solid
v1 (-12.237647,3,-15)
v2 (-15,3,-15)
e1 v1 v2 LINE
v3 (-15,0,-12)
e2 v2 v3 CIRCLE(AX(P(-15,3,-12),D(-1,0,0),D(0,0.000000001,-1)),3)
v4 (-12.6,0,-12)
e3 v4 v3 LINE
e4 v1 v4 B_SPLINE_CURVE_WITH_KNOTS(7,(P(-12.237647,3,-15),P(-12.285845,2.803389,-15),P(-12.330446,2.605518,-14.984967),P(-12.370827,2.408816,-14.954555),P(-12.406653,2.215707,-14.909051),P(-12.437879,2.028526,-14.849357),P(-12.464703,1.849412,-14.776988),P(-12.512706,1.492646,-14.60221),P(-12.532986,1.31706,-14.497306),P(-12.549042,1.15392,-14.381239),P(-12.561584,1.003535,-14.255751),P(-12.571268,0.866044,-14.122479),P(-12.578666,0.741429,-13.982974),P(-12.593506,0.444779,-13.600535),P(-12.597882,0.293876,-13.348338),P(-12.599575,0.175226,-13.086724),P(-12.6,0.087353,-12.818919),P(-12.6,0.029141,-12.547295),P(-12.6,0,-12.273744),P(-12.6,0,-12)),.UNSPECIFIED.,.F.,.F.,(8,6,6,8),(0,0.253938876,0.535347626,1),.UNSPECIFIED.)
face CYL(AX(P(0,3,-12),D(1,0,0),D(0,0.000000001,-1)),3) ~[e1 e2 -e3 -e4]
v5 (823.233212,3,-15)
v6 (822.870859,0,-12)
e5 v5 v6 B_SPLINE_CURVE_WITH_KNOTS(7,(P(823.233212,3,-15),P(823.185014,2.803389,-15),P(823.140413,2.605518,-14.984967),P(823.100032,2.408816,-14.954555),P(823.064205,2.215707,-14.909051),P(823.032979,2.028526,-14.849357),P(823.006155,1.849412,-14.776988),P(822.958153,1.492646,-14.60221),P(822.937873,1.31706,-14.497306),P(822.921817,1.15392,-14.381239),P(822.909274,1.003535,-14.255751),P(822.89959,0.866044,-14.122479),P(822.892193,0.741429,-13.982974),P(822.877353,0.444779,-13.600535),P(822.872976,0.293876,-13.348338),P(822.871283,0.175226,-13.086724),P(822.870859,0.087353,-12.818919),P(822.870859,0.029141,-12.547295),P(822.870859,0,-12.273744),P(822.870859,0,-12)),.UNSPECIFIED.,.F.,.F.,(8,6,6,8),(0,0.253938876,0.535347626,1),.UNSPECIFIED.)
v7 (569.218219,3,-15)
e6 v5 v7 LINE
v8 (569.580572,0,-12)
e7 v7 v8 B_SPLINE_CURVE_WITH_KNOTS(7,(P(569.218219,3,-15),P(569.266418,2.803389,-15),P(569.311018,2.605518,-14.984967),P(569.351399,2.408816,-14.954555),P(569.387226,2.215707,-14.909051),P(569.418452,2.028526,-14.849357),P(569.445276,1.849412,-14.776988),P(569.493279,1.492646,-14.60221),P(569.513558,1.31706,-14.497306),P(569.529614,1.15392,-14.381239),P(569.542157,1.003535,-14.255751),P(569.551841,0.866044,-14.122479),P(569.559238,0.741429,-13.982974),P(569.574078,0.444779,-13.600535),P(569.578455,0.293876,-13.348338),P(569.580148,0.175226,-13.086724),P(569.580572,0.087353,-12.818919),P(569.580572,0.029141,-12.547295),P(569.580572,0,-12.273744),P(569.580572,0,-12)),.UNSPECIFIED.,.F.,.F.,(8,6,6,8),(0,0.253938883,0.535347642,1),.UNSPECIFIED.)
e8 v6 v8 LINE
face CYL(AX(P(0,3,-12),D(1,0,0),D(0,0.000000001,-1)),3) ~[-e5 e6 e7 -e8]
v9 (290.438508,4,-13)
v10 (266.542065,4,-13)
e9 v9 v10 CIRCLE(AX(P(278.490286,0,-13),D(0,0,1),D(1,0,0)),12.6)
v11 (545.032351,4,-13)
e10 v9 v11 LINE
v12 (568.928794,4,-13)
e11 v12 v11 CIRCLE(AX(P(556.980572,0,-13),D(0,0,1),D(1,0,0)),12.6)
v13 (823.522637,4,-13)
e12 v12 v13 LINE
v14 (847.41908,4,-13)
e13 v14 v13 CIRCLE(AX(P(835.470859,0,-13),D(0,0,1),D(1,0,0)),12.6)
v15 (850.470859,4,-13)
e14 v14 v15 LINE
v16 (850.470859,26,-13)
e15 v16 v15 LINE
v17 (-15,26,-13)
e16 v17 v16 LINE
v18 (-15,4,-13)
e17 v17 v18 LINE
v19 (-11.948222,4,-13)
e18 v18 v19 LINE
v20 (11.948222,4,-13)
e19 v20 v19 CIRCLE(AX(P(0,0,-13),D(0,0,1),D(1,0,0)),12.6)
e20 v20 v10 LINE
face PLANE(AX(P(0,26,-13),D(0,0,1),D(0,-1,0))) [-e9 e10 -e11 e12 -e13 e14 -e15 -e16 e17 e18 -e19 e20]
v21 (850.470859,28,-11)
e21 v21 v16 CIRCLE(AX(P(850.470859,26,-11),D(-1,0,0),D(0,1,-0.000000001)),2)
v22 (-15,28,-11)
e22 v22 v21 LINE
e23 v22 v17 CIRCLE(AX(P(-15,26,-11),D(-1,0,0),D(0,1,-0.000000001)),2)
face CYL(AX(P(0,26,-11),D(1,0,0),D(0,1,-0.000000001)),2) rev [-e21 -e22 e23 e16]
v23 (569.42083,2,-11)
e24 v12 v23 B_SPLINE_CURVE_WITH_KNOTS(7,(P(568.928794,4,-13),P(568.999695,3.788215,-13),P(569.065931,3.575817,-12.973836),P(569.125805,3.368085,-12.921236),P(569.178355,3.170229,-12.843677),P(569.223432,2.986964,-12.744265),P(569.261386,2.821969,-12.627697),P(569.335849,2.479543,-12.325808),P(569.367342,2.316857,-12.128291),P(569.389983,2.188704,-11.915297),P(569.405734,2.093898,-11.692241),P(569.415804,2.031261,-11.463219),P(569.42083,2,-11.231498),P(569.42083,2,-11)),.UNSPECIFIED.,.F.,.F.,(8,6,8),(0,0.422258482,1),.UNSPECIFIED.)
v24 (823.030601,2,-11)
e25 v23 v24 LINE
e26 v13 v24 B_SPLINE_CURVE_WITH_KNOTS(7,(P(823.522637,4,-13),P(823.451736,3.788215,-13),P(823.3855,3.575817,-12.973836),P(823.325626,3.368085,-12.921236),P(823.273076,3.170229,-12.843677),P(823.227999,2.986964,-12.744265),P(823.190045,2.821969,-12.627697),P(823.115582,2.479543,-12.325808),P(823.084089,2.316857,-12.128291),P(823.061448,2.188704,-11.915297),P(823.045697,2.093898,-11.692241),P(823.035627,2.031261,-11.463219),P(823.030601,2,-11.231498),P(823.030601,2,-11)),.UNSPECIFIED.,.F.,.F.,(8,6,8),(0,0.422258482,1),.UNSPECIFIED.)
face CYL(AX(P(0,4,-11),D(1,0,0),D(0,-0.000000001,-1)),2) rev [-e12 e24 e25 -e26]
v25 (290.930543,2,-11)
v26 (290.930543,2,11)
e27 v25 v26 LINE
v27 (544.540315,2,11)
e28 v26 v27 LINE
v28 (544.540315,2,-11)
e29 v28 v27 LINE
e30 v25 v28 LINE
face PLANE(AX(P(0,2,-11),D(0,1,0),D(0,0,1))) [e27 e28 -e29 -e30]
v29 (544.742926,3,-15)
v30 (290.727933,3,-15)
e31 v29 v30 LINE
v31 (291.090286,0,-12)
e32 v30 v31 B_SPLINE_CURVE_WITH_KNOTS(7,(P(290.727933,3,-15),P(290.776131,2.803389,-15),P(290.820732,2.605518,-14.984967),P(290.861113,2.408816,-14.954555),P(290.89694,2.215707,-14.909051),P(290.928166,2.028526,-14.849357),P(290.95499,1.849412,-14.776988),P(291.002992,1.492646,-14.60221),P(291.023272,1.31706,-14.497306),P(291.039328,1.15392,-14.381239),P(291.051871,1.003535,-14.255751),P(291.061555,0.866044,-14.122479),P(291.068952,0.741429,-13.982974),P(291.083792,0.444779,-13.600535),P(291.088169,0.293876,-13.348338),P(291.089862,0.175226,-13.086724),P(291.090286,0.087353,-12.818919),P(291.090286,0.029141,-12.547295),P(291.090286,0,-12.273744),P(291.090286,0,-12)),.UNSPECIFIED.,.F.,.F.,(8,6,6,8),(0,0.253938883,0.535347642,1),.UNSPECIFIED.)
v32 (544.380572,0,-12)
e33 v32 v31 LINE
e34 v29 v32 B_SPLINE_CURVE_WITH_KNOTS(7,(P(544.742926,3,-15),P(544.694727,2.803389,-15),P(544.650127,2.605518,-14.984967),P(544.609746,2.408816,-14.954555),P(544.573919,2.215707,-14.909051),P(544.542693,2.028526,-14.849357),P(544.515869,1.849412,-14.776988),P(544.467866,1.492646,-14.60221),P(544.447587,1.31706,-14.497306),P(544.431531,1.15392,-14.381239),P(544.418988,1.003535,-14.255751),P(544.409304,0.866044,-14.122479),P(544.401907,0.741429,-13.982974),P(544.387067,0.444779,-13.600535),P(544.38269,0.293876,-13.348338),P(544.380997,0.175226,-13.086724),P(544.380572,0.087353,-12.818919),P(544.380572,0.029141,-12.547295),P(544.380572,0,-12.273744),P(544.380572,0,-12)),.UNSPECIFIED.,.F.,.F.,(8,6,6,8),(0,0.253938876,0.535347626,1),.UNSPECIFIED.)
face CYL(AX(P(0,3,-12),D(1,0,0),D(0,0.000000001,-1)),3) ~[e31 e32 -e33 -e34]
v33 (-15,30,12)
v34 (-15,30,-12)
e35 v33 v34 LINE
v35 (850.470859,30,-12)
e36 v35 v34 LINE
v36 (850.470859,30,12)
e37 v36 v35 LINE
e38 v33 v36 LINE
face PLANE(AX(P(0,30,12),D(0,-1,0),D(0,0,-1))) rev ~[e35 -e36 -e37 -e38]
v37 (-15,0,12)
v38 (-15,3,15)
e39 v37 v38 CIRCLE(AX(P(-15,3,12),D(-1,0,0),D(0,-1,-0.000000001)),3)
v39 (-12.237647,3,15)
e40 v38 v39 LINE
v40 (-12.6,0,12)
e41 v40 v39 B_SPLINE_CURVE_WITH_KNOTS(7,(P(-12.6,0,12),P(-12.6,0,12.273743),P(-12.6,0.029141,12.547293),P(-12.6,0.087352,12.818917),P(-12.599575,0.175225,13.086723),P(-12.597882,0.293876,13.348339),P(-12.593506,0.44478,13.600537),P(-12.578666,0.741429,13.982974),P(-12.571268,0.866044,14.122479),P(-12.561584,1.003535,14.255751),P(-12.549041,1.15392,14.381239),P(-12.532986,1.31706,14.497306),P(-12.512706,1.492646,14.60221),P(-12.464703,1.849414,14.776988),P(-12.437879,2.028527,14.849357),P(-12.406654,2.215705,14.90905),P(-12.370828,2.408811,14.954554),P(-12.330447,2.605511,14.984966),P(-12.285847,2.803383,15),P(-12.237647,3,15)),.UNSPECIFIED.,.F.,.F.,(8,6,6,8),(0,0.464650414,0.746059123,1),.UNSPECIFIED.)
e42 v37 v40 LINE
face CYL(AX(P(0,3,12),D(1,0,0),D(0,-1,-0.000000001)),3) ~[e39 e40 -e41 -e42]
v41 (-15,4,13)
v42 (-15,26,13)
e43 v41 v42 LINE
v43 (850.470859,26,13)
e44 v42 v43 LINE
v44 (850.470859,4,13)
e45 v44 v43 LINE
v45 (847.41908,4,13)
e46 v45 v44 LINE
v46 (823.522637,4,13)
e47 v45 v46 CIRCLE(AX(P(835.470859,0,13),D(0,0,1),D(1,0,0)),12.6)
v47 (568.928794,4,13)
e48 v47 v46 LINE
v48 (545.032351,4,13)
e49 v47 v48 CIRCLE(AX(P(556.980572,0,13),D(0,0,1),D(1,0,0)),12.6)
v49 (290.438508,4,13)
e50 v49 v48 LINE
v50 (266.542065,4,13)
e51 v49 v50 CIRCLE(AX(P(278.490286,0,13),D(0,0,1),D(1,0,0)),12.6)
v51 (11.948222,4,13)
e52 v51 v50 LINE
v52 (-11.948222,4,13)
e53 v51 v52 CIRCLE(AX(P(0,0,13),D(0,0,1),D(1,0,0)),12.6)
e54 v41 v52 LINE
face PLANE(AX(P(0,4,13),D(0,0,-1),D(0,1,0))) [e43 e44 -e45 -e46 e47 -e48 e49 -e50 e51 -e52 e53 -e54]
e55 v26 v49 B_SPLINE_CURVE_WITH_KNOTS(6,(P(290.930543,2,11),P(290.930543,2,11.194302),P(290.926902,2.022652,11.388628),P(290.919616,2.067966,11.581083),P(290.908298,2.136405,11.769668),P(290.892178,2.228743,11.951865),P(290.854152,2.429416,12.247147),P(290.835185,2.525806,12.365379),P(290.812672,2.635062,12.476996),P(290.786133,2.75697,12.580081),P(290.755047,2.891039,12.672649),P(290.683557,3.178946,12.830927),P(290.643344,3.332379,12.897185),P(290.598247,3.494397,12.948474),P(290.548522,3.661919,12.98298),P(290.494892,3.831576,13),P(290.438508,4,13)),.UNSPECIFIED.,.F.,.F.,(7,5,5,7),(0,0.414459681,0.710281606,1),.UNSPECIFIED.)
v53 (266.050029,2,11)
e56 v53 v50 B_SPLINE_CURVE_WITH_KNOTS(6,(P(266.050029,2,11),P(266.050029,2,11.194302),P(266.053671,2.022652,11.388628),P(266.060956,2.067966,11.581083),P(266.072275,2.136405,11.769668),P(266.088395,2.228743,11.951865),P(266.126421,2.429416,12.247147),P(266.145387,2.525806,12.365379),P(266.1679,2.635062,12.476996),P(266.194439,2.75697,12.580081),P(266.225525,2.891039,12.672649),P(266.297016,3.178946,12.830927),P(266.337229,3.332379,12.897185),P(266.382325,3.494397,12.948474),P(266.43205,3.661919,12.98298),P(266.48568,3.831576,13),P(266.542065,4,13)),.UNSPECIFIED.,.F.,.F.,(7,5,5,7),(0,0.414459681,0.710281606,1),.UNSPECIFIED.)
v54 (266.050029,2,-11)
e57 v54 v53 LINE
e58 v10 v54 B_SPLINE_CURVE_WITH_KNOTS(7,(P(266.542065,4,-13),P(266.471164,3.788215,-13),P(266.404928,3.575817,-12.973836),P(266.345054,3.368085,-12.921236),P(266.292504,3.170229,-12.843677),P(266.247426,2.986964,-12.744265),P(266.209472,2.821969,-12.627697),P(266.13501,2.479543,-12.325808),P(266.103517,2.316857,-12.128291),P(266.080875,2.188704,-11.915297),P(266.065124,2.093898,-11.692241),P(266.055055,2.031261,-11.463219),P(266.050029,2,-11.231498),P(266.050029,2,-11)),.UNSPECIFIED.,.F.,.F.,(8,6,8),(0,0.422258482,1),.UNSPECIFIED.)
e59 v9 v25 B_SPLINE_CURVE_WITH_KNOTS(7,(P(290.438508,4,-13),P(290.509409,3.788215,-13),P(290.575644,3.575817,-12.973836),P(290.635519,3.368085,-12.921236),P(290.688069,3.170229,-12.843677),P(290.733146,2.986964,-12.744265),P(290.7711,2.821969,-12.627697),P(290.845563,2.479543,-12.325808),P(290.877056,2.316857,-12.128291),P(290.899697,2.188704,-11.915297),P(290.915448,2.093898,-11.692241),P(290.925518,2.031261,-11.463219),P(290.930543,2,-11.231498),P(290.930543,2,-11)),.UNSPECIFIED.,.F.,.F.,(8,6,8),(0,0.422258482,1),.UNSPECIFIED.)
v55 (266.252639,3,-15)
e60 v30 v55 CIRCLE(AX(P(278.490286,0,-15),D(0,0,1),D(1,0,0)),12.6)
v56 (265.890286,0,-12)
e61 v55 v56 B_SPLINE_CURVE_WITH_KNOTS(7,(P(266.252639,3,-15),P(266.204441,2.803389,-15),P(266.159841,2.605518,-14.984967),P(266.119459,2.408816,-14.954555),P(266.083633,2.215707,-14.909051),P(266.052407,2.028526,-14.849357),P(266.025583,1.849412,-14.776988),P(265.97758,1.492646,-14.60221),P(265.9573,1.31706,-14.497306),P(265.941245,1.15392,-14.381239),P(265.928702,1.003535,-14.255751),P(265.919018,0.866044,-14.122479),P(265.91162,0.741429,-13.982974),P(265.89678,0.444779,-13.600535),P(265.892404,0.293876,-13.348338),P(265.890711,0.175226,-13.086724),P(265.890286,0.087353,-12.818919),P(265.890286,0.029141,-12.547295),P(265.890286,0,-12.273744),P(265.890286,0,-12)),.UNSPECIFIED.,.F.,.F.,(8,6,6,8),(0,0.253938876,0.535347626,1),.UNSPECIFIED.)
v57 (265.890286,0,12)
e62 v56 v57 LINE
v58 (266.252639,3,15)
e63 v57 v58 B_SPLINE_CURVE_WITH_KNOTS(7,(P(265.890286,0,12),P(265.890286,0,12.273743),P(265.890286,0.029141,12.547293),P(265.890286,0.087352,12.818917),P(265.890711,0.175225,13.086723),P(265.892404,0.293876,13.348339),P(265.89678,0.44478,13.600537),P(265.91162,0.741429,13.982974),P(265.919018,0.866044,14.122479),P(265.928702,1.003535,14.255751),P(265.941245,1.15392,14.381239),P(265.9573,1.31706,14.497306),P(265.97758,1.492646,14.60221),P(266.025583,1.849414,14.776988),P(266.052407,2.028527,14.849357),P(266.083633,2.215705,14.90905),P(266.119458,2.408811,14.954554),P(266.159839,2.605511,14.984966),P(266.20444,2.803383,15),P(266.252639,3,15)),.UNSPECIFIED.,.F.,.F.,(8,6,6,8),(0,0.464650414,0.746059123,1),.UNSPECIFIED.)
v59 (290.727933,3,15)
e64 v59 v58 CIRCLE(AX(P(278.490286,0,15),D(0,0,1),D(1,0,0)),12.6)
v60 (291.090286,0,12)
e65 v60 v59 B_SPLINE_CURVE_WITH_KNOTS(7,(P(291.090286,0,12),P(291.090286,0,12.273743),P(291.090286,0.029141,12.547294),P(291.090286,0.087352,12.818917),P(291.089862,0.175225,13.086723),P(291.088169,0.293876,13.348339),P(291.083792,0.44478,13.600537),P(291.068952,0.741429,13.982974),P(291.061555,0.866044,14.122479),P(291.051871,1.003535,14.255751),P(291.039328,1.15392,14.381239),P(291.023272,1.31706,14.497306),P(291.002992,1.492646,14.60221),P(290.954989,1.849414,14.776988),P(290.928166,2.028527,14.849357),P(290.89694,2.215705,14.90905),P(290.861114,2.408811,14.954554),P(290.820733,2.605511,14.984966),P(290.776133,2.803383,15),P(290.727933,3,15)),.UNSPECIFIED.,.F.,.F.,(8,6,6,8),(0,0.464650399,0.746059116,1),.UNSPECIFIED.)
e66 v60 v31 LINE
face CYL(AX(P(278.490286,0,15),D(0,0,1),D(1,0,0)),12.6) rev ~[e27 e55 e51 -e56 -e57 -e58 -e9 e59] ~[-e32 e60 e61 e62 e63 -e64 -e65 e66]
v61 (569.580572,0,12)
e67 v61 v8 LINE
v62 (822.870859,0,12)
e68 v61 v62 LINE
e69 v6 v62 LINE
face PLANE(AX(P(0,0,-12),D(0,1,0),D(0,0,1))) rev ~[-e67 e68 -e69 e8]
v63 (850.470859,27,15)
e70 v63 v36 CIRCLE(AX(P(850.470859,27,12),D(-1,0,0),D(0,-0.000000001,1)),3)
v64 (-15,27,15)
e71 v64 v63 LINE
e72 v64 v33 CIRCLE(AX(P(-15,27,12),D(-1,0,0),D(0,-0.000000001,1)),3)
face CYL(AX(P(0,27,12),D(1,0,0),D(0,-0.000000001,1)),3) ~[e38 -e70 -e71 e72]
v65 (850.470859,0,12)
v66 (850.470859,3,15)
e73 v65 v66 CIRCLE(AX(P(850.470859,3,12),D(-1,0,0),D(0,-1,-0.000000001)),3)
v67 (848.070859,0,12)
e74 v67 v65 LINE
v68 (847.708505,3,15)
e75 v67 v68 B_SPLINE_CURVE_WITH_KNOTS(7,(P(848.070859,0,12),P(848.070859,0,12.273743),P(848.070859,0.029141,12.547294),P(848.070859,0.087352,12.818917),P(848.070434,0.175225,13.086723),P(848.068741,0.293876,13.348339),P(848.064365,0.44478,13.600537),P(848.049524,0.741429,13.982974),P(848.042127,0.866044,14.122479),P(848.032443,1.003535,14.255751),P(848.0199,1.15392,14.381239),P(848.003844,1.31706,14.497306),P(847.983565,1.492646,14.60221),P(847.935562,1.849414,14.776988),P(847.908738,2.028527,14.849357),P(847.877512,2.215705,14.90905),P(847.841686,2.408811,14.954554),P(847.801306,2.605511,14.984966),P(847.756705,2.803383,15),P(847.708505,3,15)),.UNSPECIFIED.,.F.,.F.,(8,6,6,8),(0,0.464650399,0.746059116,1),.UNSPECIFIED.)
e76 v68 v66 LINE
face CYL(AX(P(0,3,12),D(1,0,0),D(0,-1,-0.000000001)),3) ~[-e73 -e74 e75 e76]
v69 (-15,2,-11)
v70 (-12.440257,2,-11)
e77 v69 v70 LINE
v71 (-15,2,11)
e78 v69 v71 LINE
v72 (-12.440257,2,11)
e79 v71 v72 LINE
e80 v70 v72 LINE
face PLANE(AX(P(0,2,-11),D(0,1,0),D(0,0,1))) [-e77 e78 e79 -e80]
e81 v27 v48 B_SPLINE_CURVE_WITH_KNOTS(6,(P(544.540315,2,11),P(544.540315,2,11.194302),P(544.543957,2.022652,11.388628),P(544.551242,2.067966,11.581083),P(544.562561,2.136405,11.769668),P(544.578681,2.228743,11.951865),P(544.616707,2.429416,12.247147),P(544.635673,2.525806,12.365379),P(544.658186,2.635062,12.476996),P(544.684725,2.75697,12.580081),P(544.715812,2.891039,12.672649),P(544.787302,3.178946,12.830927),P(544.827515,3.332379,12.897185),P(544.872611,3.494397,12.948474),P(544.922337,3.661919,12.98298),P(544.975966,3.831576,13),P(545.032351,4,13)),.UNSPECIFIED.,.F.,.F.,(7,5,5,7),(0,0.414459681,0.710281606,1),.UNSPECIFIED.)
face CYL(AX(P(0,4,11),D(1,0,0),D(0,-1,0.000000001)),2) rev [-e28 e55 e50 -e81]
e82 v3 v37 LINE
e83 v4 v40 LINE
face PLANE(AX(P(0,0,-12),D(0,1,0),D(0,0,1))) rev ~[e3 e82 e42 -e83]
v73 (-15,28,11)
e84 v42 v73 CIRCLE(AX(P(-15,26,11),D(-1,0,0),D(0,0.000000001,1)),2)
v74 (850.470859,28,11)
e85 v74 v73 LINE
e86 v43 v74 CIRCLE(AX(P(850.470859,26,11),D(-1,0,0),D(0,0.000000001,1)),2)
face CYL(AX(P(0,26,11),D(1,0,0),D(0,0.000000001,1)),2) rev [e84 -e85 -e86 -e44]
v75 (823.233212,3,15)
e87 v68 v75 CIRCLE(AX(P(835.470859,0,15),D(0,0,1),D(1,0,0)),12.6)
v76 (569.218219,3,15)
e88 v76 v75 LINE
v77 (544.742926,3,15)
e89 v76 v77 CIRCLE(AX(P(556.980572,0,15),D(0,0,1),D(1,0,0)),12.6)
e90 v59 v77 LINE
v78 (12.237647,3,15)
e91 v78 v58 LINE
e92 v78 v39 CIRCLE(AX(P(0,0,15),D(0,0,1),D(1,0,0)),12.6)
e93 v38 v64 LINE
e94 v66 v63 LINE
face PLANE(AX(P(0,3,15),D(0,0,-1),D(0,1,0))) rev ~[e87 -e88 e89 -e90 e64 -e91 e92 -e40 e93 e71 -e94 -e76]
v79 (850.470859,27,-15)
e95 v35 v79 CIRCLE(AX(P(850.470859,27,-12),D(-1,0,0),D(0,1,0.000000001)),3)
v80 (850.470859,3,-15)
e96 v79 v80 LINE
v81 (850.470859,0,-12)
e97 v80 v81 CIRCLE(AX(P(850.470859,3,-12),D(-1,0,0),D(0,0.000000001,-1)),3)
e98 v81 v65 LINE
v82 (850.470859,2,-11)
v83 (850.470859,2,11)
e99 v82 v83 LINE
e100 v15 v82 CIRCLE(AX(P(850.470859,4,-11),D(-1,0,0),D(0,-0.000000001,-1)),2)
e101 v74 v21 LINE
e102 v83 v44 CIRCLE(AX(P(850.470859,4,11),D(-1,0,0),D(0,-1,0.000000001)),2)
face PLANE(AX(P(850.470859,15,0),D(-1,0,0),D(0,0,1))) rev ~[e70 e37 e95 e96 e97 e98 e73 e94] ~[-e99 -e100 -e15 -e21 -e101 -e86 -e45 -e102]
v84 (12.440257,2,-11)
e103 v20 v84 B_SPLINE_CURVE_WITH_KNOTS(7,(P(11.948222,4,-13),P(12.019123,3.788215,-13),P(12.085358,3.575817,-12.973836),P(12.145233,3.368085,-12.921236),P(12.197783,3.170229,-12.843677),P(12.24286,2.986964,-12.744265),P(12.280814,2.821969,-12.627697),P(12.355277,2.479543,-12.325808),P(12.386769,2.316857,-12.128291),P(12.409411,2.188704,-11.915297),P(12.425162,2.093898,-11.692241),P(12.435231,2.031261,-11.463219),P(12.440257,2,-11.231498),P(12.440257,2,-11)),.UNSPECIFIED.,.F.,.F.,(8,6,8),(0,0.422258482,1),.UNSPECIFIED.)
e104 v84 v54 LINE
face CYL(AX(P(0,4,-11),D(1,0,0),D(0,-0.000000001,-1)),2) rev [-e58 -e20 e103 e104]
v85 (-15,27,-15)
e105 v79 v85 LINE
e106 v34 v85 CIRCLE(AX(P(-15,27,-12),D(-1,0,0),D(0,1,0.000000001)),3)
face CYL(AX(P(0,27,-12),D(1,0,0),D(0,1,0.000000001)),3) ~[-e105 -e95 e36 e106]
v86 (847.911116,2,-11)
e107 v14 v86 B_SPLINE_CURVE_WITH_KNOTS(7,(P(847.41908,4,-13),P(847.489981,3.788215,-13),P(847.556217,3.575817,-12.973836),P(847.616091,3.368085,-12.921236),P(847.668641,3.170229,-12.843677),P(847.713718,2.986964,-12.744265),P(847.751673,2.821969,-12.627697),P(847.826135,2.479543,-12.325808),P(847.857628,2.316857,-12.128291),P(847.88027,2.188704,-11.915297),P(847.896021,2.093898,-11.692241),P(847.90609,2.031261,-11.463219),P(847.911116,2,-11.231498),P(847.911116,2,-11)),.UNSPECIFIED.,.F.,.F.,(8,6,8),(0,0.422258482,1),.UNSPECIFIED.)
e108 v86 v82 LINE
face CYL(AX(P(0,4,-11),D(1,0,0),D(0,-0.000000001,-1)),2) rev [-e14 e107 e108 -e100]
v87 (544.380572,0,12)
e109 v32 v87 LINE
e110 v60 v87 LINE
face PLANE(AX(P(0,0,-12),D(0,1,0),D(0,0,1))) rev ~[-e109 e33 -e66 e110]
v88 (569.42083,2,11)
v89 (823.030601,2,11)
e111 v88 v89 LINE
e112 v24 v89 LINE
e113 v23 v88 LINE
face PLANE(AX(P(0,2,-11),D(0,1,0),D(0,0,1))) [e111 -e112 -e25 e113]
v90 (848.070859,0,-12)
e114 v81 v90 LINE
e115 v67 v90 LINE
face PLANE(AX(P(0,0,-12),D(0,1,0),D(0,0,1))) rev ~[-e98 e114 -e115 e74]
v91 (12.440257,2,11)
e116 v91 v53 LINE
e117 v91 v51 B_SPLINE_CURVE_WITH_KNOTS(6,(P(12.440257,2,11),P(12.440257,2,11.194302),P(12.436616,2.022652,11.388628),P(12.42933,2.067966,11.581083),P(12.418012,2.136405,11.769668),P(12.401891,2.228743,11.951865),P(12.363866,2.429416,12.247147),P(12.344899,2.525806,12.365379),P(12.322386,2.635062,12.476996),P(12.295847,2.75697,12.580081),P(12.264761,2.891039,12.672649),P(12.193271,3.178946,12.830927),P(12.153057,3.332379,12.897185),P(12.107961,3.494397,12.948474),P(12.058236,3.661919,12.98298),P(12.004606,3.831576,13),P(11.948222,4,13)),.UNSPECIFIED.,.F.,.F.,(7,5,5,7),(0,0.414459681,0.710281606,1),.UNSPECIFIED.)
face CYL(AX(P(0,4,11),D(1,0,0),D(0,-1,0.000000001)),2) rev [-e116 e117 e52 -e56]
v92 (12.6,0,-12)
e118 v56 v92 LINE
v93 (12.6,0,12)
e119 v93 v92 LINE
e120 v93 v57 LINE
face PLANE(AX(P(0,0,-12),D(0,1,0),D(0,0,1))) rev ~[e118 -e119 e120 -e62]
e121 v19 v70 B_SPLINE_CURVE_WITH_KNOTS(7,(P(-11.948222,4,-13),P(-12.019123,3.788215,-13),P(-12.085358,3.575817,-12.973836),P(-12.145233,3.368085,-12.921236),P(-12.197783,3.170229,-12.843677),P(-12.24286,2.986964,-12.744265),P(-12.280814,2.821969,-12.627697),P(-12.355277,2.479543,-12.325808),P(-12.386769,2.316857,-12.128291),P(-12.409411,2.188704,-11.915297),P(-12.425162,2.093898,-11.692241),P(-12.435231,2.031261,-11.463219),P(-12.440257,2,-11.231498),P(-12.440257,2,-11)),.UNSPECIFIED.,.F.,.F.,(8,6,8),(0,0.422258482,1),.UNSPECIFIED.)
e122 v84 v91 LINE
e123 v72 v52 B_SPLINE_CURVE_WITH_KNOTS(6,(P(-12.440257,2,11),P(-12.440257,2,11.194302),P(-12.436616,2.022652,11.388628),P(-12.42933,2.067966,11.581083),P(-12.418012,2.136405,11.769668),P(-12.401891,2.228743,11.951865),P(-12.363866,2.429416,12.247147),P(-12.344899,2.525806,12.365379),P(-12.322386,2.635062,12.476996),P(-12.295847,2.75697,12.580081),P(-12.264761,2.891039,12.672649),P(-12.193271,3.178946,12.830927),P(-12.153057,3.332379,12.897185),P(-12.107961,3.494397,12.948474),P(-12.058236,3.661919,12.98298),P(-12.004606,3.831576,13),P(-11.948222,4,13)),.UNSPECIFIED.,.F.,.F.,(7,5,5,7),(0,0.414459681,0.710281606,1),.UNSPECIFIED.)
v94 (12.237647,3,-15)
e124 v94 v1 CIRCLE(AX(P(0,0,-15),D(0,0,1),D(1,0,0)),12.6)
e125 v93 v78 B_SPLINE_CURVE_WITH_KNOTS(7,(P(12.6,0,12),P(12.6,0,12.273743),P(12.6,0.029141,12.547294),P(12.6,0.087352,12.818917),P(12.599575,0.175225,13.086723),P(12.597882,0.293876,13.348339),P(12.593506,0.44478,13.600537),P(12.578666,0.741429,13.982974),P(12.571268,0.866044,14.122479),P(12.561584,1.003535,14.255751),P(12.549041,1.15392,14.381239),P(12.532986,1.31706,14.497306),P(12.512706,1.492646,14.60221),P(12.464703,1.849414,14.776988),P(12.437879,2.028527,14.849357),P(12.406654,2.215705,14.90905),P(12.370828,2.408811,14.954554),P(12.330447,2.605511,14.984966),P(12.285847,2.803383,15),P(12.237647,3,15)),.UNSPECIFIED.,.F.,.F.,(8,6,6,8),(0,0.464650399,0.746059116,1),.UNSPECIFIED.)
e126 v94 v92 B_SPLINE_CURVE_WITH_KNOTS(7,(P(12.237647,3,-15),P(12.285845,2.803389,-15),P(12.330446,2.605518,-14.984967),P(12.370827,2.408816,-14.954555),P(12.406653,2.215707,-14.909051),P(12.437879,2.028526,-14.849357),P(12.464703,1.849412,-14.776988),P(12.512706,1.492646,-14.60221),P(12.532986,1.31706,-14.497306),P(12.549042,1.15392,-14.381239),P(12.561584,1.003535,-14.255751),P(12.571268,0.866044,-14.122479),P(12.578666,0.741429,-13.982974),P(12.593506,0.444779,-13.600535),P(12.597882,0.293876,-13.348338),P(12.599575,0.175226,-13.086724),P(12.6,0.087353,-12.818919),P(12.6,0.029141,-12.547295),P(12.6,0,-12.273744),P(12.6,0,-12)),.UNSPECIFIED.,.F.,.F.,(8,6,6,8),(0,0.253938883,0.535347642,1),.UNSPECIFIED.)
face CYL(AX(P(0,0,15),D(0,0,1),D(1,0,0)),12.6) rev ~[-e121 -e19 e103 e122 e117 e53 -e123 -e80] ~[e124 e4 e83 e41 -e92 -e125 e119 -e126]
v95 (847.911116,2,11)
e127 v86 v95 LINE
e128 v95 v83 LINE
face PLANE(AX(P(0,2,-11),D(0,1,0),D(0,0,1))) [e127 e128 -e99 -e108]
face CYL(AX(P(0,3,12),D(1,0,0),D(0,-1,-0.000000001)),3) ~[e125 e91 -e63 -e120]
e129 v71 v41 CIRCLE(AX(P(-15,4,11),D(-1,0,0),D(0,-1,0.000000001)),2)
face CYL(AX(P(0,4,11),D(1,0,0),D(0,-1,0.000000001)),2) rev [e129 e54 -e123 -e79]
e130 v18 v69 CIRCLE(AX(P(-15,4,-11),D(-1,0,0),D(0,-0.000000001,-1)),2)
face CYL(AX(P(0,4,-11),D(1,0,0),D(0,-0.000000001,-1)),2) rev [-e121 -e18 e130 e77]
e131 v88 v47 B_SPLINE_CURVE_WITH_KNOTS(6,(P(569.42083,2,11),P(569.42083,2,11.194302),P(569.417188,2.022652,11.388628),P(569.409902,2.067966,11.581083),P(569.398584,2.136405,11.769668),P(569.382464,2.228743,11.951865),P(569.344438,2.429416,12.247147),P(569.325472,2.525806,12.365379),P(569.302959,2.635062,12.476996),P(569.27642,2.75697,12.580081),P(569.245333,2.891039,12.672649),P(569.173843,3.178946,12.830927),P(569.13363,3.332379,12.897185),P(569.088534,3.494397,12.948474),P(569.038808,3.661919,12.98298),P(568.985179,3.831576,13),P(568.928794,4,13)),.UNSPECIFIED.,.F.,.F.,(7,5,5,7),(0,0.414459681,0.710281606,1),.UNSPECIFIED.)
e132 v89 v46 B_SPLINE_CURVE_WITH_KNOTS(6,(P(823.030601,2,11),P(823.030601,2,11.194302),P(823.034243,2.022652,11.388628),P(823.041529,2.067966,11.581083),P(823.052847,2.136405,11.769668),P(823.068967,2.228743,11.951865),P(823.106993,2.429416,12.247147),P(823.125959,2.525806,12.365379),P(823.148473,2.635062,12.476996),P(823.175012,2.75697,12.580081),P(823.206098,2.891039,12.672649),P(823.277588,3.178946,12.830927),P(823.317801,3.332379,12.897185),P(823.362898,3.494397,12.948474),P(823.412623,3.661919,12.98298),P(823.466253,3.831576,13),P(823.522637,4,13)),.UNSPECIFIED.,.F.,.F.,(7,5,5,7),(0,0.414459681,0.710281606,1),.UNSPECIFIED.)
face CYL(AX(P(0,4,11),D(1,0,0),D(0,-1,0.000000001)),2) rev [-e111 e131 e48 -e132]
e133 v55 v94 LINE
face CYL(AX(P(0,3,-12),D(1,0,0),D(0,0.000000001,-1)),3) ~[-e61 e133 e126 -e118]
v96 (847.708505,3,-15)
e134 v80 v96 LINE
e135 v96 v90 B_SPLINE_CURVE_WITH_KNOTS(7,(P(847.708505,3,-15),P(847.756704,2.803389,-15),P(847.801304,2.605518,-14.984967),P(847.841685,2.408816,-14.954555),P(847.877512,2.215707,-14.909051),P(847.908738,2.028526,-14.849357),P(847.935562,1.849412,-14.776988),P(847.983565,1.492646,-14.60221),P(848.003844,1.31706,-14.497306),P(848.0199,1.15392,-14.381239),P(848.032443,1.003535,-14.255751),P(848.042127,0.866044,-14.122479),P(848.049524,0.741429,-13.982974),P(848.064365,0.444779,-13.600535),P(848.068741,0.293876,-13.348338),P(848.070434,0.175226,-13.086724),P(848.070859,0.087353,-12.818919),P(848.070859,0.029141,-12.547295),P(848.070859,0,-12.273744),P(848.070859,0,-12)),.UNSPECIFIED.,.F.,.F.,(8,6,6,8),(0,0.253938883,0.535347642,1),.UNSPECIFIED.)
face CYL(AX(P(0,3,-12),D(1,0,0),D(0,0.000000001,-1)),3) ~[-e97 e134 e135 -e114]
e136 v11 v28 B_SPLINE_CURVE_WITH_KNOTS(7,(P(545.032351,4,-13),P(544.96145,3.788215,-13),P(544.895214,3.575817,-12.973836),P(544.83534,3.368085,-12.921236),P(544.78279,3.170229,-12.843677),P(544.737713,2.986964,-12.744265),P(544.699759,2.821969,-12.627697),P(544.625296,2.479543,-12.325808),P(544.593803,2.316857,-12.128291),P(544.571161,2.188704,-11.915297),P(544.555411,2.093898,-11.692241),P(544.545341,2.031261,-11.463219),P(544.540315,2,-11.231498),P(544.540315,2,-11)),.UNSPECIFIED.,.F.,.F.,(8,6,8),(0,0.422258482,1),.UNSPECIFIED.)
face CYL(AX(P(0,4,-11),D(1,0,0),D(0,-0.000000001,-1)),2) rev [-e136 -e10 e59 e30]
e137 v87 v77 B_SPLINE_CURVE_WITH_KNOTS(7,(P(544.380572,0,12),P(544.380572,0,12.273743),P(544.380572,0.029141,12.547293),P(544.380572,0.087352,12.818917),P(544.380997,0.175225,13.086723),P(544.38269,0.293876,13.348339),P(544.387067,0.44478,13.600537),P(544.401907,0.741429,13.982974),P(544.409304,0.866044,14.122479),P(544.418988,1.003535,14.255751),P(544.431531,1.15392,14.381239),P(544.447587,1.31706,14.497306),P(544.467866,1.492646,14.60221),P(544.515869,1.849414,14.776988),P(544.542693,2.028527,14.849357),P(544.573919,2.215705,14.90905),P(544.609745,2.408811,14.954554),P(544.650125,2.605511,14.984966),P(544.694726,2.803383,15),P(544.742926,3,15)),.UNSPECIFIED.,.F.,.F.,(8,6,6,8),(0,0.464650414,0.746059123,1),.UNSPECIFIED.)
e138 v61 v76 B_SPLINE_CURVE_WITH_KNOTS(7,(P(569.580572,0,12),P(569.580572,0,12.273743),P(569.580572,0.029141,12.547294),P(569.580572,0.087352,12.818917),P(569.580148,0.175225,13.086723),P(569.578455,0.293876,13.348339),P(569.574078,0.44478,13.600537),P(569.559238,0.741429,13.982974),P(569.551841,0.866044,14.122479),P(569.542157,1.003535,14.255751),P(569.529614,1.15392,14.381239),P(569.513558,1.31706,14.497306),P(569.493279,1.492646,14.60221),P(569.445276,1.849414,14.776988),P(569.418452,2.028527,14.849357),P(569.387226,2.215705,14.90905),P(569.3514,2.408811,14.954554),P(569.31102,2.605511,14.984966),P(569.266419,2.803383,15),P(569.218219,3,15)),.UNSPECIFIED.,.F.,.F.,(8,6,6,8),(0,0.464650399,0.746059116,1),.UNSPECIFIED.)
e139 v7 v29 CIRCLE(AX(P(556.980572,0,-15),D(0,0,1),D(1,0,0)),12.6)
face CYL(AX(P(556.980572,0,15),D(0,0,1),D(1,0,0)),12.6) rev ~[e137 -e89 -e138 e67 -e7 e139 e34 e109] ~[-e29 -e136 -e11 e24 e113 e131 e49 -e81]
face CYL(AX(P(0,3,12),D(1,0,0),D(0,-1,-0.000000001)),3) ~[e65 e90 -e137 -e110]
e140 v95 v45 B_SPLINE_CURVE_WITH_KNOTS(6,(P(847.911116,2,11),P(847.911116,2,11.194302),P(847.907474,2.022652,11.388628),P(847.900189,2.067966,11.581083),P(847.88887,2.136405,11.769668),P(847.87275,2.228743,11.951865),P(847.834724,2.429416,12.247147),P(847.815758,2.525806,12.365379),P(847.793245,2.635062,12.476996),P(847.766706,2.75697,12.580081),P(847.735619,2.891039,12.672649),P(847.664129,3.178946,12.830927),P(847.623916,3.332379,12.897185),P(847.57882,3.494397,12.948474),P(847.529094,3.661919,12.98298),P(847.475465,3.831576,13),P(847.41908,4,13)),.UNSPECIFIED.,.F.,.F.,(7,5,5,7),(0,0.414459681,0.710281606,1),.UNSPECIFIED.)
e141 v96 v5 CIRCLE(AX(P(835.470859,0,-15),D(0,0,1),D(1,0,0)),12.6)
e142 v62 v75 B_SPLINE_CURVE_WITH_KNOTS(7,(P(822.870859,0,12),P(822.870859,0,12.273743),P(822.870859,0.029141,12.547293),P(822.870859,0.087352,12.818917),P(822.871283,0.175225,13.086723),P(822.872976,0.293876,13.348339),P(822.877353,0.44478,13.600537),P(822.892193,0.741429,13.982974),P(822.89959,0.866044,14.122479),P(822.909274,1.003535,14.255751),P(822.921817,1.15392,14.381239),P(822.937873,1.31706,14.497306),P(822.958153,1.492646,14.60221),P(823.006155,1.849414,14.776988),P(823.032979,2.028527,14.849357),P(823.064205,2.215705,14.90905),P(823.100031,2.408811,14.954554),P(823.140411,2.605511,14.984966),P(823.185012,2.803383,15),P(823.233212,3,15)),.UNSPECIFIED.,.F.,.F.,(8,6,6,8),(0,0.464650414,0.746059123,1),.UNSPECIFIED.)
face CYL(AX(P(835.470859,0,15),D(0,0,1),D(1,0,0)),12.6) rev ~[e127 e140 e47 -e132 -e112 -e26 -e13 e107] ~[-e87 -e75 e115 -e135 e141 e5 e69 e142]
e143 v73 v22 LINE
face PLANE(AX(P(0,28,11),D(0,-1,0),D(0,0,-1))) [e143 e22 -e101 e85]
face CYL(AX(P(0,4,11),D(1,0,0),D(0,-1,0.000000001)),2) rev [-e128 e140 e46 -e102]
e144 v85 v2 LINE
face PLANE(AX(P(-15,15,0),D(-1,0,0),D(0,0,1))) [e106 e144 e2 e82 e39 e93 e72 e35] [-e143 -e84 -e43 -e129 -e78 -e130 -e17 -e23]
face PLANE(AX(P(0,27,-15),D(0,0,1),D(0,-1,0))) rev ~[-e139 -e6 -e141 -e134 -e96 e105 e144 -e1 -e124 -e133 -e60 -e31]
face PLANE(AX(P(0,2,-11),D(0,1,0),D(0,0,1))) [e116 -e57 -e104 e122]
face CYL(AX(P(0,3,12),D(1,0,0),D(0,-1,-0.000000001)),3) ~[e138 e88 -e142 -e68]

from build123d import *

# Parameters (mm, degrees)
EXTRUDE_1_DEPTH      = 850.470859
EXTRUDE_1_DEPTH_BACK = 15
SKETCH_3_R           = 12.6
CUT_EXTRUDE_1_DEPTH  = 31


with BuildPart() as part:
    # Эскиз2 → Бобышка-Вытянуть1 (new body, two sides)
    with BuildSketch(Plane(origin=(0, 0, 0), x_dir=(0, 0, -1), z_dir=(1, 0, 0))) as extrude_1_sk:
        with BuildLine():
            Line((-12, 30), (12, 30))
            ThreePointArc((12, 30), (14.121320344, 29.121320344), (15, 27))
            Line((15, 27), (15, 3))
            ThreePointArc((15, 3), (14.121320344, 0.878679656), (12, 0))
            Line((12, 0), (-12, 0))
            ThreePointArc((-12, 0), (-14.121320344, 0.878679656), (-15, 3))
            Line((-15, 3), (-15, 27))
            ThreePointArc((-15, 27), (-14.121320344, 29.121320344), (-12, 30))
        make_face()
        with BuildLine():
            Line((-11, 28), (11, 28))
            ThreePointArc((11, 28), (12.414213562, 27.414213562), (13, 26))
            Line((13, 26), (13, 4))
            ThreePointArc((13, 4), (12.414213562, 2.585786438), (11, 2))
            Line((11, 2), (-11, 2))
            ThreePointArc((-11, 2), (-12.414213562, 2.585786438), (-13, 4))
            Line((-13, 4), (-13, 26))
            ThreePointArc((-13, 26), (-12.414213562, 27.414213562), (-11, 28))
        make_face(mode=Mode.SUBTRACT)
    extrude(amount=EXTRUDE_1_DEPTH)
    extrude(extrude_1_sk.sketch, amount=-EXTRUDE_1_DEPTH_BACK)

    # Эскиз3 → Вырез-Вытянуть1 (cut, through all)
    with BuildSketch(Plane.XY.offset(15)):
        Circle(SKETCH_3_R)
        with Locations((278.490286217, 0)):
            Circle(SKETCH_3_R)
        with Locations((556.980572433, 0)):
            Circle(SKETCH_3_R)
        with Locations((835.47085865, 0)):
            Circle(SKETCH_3_R)
    extrude(amount=-CUT_EXTRUDE_1_DEPTH, mode=Mode.SUBTRACT)


solid = part.part
